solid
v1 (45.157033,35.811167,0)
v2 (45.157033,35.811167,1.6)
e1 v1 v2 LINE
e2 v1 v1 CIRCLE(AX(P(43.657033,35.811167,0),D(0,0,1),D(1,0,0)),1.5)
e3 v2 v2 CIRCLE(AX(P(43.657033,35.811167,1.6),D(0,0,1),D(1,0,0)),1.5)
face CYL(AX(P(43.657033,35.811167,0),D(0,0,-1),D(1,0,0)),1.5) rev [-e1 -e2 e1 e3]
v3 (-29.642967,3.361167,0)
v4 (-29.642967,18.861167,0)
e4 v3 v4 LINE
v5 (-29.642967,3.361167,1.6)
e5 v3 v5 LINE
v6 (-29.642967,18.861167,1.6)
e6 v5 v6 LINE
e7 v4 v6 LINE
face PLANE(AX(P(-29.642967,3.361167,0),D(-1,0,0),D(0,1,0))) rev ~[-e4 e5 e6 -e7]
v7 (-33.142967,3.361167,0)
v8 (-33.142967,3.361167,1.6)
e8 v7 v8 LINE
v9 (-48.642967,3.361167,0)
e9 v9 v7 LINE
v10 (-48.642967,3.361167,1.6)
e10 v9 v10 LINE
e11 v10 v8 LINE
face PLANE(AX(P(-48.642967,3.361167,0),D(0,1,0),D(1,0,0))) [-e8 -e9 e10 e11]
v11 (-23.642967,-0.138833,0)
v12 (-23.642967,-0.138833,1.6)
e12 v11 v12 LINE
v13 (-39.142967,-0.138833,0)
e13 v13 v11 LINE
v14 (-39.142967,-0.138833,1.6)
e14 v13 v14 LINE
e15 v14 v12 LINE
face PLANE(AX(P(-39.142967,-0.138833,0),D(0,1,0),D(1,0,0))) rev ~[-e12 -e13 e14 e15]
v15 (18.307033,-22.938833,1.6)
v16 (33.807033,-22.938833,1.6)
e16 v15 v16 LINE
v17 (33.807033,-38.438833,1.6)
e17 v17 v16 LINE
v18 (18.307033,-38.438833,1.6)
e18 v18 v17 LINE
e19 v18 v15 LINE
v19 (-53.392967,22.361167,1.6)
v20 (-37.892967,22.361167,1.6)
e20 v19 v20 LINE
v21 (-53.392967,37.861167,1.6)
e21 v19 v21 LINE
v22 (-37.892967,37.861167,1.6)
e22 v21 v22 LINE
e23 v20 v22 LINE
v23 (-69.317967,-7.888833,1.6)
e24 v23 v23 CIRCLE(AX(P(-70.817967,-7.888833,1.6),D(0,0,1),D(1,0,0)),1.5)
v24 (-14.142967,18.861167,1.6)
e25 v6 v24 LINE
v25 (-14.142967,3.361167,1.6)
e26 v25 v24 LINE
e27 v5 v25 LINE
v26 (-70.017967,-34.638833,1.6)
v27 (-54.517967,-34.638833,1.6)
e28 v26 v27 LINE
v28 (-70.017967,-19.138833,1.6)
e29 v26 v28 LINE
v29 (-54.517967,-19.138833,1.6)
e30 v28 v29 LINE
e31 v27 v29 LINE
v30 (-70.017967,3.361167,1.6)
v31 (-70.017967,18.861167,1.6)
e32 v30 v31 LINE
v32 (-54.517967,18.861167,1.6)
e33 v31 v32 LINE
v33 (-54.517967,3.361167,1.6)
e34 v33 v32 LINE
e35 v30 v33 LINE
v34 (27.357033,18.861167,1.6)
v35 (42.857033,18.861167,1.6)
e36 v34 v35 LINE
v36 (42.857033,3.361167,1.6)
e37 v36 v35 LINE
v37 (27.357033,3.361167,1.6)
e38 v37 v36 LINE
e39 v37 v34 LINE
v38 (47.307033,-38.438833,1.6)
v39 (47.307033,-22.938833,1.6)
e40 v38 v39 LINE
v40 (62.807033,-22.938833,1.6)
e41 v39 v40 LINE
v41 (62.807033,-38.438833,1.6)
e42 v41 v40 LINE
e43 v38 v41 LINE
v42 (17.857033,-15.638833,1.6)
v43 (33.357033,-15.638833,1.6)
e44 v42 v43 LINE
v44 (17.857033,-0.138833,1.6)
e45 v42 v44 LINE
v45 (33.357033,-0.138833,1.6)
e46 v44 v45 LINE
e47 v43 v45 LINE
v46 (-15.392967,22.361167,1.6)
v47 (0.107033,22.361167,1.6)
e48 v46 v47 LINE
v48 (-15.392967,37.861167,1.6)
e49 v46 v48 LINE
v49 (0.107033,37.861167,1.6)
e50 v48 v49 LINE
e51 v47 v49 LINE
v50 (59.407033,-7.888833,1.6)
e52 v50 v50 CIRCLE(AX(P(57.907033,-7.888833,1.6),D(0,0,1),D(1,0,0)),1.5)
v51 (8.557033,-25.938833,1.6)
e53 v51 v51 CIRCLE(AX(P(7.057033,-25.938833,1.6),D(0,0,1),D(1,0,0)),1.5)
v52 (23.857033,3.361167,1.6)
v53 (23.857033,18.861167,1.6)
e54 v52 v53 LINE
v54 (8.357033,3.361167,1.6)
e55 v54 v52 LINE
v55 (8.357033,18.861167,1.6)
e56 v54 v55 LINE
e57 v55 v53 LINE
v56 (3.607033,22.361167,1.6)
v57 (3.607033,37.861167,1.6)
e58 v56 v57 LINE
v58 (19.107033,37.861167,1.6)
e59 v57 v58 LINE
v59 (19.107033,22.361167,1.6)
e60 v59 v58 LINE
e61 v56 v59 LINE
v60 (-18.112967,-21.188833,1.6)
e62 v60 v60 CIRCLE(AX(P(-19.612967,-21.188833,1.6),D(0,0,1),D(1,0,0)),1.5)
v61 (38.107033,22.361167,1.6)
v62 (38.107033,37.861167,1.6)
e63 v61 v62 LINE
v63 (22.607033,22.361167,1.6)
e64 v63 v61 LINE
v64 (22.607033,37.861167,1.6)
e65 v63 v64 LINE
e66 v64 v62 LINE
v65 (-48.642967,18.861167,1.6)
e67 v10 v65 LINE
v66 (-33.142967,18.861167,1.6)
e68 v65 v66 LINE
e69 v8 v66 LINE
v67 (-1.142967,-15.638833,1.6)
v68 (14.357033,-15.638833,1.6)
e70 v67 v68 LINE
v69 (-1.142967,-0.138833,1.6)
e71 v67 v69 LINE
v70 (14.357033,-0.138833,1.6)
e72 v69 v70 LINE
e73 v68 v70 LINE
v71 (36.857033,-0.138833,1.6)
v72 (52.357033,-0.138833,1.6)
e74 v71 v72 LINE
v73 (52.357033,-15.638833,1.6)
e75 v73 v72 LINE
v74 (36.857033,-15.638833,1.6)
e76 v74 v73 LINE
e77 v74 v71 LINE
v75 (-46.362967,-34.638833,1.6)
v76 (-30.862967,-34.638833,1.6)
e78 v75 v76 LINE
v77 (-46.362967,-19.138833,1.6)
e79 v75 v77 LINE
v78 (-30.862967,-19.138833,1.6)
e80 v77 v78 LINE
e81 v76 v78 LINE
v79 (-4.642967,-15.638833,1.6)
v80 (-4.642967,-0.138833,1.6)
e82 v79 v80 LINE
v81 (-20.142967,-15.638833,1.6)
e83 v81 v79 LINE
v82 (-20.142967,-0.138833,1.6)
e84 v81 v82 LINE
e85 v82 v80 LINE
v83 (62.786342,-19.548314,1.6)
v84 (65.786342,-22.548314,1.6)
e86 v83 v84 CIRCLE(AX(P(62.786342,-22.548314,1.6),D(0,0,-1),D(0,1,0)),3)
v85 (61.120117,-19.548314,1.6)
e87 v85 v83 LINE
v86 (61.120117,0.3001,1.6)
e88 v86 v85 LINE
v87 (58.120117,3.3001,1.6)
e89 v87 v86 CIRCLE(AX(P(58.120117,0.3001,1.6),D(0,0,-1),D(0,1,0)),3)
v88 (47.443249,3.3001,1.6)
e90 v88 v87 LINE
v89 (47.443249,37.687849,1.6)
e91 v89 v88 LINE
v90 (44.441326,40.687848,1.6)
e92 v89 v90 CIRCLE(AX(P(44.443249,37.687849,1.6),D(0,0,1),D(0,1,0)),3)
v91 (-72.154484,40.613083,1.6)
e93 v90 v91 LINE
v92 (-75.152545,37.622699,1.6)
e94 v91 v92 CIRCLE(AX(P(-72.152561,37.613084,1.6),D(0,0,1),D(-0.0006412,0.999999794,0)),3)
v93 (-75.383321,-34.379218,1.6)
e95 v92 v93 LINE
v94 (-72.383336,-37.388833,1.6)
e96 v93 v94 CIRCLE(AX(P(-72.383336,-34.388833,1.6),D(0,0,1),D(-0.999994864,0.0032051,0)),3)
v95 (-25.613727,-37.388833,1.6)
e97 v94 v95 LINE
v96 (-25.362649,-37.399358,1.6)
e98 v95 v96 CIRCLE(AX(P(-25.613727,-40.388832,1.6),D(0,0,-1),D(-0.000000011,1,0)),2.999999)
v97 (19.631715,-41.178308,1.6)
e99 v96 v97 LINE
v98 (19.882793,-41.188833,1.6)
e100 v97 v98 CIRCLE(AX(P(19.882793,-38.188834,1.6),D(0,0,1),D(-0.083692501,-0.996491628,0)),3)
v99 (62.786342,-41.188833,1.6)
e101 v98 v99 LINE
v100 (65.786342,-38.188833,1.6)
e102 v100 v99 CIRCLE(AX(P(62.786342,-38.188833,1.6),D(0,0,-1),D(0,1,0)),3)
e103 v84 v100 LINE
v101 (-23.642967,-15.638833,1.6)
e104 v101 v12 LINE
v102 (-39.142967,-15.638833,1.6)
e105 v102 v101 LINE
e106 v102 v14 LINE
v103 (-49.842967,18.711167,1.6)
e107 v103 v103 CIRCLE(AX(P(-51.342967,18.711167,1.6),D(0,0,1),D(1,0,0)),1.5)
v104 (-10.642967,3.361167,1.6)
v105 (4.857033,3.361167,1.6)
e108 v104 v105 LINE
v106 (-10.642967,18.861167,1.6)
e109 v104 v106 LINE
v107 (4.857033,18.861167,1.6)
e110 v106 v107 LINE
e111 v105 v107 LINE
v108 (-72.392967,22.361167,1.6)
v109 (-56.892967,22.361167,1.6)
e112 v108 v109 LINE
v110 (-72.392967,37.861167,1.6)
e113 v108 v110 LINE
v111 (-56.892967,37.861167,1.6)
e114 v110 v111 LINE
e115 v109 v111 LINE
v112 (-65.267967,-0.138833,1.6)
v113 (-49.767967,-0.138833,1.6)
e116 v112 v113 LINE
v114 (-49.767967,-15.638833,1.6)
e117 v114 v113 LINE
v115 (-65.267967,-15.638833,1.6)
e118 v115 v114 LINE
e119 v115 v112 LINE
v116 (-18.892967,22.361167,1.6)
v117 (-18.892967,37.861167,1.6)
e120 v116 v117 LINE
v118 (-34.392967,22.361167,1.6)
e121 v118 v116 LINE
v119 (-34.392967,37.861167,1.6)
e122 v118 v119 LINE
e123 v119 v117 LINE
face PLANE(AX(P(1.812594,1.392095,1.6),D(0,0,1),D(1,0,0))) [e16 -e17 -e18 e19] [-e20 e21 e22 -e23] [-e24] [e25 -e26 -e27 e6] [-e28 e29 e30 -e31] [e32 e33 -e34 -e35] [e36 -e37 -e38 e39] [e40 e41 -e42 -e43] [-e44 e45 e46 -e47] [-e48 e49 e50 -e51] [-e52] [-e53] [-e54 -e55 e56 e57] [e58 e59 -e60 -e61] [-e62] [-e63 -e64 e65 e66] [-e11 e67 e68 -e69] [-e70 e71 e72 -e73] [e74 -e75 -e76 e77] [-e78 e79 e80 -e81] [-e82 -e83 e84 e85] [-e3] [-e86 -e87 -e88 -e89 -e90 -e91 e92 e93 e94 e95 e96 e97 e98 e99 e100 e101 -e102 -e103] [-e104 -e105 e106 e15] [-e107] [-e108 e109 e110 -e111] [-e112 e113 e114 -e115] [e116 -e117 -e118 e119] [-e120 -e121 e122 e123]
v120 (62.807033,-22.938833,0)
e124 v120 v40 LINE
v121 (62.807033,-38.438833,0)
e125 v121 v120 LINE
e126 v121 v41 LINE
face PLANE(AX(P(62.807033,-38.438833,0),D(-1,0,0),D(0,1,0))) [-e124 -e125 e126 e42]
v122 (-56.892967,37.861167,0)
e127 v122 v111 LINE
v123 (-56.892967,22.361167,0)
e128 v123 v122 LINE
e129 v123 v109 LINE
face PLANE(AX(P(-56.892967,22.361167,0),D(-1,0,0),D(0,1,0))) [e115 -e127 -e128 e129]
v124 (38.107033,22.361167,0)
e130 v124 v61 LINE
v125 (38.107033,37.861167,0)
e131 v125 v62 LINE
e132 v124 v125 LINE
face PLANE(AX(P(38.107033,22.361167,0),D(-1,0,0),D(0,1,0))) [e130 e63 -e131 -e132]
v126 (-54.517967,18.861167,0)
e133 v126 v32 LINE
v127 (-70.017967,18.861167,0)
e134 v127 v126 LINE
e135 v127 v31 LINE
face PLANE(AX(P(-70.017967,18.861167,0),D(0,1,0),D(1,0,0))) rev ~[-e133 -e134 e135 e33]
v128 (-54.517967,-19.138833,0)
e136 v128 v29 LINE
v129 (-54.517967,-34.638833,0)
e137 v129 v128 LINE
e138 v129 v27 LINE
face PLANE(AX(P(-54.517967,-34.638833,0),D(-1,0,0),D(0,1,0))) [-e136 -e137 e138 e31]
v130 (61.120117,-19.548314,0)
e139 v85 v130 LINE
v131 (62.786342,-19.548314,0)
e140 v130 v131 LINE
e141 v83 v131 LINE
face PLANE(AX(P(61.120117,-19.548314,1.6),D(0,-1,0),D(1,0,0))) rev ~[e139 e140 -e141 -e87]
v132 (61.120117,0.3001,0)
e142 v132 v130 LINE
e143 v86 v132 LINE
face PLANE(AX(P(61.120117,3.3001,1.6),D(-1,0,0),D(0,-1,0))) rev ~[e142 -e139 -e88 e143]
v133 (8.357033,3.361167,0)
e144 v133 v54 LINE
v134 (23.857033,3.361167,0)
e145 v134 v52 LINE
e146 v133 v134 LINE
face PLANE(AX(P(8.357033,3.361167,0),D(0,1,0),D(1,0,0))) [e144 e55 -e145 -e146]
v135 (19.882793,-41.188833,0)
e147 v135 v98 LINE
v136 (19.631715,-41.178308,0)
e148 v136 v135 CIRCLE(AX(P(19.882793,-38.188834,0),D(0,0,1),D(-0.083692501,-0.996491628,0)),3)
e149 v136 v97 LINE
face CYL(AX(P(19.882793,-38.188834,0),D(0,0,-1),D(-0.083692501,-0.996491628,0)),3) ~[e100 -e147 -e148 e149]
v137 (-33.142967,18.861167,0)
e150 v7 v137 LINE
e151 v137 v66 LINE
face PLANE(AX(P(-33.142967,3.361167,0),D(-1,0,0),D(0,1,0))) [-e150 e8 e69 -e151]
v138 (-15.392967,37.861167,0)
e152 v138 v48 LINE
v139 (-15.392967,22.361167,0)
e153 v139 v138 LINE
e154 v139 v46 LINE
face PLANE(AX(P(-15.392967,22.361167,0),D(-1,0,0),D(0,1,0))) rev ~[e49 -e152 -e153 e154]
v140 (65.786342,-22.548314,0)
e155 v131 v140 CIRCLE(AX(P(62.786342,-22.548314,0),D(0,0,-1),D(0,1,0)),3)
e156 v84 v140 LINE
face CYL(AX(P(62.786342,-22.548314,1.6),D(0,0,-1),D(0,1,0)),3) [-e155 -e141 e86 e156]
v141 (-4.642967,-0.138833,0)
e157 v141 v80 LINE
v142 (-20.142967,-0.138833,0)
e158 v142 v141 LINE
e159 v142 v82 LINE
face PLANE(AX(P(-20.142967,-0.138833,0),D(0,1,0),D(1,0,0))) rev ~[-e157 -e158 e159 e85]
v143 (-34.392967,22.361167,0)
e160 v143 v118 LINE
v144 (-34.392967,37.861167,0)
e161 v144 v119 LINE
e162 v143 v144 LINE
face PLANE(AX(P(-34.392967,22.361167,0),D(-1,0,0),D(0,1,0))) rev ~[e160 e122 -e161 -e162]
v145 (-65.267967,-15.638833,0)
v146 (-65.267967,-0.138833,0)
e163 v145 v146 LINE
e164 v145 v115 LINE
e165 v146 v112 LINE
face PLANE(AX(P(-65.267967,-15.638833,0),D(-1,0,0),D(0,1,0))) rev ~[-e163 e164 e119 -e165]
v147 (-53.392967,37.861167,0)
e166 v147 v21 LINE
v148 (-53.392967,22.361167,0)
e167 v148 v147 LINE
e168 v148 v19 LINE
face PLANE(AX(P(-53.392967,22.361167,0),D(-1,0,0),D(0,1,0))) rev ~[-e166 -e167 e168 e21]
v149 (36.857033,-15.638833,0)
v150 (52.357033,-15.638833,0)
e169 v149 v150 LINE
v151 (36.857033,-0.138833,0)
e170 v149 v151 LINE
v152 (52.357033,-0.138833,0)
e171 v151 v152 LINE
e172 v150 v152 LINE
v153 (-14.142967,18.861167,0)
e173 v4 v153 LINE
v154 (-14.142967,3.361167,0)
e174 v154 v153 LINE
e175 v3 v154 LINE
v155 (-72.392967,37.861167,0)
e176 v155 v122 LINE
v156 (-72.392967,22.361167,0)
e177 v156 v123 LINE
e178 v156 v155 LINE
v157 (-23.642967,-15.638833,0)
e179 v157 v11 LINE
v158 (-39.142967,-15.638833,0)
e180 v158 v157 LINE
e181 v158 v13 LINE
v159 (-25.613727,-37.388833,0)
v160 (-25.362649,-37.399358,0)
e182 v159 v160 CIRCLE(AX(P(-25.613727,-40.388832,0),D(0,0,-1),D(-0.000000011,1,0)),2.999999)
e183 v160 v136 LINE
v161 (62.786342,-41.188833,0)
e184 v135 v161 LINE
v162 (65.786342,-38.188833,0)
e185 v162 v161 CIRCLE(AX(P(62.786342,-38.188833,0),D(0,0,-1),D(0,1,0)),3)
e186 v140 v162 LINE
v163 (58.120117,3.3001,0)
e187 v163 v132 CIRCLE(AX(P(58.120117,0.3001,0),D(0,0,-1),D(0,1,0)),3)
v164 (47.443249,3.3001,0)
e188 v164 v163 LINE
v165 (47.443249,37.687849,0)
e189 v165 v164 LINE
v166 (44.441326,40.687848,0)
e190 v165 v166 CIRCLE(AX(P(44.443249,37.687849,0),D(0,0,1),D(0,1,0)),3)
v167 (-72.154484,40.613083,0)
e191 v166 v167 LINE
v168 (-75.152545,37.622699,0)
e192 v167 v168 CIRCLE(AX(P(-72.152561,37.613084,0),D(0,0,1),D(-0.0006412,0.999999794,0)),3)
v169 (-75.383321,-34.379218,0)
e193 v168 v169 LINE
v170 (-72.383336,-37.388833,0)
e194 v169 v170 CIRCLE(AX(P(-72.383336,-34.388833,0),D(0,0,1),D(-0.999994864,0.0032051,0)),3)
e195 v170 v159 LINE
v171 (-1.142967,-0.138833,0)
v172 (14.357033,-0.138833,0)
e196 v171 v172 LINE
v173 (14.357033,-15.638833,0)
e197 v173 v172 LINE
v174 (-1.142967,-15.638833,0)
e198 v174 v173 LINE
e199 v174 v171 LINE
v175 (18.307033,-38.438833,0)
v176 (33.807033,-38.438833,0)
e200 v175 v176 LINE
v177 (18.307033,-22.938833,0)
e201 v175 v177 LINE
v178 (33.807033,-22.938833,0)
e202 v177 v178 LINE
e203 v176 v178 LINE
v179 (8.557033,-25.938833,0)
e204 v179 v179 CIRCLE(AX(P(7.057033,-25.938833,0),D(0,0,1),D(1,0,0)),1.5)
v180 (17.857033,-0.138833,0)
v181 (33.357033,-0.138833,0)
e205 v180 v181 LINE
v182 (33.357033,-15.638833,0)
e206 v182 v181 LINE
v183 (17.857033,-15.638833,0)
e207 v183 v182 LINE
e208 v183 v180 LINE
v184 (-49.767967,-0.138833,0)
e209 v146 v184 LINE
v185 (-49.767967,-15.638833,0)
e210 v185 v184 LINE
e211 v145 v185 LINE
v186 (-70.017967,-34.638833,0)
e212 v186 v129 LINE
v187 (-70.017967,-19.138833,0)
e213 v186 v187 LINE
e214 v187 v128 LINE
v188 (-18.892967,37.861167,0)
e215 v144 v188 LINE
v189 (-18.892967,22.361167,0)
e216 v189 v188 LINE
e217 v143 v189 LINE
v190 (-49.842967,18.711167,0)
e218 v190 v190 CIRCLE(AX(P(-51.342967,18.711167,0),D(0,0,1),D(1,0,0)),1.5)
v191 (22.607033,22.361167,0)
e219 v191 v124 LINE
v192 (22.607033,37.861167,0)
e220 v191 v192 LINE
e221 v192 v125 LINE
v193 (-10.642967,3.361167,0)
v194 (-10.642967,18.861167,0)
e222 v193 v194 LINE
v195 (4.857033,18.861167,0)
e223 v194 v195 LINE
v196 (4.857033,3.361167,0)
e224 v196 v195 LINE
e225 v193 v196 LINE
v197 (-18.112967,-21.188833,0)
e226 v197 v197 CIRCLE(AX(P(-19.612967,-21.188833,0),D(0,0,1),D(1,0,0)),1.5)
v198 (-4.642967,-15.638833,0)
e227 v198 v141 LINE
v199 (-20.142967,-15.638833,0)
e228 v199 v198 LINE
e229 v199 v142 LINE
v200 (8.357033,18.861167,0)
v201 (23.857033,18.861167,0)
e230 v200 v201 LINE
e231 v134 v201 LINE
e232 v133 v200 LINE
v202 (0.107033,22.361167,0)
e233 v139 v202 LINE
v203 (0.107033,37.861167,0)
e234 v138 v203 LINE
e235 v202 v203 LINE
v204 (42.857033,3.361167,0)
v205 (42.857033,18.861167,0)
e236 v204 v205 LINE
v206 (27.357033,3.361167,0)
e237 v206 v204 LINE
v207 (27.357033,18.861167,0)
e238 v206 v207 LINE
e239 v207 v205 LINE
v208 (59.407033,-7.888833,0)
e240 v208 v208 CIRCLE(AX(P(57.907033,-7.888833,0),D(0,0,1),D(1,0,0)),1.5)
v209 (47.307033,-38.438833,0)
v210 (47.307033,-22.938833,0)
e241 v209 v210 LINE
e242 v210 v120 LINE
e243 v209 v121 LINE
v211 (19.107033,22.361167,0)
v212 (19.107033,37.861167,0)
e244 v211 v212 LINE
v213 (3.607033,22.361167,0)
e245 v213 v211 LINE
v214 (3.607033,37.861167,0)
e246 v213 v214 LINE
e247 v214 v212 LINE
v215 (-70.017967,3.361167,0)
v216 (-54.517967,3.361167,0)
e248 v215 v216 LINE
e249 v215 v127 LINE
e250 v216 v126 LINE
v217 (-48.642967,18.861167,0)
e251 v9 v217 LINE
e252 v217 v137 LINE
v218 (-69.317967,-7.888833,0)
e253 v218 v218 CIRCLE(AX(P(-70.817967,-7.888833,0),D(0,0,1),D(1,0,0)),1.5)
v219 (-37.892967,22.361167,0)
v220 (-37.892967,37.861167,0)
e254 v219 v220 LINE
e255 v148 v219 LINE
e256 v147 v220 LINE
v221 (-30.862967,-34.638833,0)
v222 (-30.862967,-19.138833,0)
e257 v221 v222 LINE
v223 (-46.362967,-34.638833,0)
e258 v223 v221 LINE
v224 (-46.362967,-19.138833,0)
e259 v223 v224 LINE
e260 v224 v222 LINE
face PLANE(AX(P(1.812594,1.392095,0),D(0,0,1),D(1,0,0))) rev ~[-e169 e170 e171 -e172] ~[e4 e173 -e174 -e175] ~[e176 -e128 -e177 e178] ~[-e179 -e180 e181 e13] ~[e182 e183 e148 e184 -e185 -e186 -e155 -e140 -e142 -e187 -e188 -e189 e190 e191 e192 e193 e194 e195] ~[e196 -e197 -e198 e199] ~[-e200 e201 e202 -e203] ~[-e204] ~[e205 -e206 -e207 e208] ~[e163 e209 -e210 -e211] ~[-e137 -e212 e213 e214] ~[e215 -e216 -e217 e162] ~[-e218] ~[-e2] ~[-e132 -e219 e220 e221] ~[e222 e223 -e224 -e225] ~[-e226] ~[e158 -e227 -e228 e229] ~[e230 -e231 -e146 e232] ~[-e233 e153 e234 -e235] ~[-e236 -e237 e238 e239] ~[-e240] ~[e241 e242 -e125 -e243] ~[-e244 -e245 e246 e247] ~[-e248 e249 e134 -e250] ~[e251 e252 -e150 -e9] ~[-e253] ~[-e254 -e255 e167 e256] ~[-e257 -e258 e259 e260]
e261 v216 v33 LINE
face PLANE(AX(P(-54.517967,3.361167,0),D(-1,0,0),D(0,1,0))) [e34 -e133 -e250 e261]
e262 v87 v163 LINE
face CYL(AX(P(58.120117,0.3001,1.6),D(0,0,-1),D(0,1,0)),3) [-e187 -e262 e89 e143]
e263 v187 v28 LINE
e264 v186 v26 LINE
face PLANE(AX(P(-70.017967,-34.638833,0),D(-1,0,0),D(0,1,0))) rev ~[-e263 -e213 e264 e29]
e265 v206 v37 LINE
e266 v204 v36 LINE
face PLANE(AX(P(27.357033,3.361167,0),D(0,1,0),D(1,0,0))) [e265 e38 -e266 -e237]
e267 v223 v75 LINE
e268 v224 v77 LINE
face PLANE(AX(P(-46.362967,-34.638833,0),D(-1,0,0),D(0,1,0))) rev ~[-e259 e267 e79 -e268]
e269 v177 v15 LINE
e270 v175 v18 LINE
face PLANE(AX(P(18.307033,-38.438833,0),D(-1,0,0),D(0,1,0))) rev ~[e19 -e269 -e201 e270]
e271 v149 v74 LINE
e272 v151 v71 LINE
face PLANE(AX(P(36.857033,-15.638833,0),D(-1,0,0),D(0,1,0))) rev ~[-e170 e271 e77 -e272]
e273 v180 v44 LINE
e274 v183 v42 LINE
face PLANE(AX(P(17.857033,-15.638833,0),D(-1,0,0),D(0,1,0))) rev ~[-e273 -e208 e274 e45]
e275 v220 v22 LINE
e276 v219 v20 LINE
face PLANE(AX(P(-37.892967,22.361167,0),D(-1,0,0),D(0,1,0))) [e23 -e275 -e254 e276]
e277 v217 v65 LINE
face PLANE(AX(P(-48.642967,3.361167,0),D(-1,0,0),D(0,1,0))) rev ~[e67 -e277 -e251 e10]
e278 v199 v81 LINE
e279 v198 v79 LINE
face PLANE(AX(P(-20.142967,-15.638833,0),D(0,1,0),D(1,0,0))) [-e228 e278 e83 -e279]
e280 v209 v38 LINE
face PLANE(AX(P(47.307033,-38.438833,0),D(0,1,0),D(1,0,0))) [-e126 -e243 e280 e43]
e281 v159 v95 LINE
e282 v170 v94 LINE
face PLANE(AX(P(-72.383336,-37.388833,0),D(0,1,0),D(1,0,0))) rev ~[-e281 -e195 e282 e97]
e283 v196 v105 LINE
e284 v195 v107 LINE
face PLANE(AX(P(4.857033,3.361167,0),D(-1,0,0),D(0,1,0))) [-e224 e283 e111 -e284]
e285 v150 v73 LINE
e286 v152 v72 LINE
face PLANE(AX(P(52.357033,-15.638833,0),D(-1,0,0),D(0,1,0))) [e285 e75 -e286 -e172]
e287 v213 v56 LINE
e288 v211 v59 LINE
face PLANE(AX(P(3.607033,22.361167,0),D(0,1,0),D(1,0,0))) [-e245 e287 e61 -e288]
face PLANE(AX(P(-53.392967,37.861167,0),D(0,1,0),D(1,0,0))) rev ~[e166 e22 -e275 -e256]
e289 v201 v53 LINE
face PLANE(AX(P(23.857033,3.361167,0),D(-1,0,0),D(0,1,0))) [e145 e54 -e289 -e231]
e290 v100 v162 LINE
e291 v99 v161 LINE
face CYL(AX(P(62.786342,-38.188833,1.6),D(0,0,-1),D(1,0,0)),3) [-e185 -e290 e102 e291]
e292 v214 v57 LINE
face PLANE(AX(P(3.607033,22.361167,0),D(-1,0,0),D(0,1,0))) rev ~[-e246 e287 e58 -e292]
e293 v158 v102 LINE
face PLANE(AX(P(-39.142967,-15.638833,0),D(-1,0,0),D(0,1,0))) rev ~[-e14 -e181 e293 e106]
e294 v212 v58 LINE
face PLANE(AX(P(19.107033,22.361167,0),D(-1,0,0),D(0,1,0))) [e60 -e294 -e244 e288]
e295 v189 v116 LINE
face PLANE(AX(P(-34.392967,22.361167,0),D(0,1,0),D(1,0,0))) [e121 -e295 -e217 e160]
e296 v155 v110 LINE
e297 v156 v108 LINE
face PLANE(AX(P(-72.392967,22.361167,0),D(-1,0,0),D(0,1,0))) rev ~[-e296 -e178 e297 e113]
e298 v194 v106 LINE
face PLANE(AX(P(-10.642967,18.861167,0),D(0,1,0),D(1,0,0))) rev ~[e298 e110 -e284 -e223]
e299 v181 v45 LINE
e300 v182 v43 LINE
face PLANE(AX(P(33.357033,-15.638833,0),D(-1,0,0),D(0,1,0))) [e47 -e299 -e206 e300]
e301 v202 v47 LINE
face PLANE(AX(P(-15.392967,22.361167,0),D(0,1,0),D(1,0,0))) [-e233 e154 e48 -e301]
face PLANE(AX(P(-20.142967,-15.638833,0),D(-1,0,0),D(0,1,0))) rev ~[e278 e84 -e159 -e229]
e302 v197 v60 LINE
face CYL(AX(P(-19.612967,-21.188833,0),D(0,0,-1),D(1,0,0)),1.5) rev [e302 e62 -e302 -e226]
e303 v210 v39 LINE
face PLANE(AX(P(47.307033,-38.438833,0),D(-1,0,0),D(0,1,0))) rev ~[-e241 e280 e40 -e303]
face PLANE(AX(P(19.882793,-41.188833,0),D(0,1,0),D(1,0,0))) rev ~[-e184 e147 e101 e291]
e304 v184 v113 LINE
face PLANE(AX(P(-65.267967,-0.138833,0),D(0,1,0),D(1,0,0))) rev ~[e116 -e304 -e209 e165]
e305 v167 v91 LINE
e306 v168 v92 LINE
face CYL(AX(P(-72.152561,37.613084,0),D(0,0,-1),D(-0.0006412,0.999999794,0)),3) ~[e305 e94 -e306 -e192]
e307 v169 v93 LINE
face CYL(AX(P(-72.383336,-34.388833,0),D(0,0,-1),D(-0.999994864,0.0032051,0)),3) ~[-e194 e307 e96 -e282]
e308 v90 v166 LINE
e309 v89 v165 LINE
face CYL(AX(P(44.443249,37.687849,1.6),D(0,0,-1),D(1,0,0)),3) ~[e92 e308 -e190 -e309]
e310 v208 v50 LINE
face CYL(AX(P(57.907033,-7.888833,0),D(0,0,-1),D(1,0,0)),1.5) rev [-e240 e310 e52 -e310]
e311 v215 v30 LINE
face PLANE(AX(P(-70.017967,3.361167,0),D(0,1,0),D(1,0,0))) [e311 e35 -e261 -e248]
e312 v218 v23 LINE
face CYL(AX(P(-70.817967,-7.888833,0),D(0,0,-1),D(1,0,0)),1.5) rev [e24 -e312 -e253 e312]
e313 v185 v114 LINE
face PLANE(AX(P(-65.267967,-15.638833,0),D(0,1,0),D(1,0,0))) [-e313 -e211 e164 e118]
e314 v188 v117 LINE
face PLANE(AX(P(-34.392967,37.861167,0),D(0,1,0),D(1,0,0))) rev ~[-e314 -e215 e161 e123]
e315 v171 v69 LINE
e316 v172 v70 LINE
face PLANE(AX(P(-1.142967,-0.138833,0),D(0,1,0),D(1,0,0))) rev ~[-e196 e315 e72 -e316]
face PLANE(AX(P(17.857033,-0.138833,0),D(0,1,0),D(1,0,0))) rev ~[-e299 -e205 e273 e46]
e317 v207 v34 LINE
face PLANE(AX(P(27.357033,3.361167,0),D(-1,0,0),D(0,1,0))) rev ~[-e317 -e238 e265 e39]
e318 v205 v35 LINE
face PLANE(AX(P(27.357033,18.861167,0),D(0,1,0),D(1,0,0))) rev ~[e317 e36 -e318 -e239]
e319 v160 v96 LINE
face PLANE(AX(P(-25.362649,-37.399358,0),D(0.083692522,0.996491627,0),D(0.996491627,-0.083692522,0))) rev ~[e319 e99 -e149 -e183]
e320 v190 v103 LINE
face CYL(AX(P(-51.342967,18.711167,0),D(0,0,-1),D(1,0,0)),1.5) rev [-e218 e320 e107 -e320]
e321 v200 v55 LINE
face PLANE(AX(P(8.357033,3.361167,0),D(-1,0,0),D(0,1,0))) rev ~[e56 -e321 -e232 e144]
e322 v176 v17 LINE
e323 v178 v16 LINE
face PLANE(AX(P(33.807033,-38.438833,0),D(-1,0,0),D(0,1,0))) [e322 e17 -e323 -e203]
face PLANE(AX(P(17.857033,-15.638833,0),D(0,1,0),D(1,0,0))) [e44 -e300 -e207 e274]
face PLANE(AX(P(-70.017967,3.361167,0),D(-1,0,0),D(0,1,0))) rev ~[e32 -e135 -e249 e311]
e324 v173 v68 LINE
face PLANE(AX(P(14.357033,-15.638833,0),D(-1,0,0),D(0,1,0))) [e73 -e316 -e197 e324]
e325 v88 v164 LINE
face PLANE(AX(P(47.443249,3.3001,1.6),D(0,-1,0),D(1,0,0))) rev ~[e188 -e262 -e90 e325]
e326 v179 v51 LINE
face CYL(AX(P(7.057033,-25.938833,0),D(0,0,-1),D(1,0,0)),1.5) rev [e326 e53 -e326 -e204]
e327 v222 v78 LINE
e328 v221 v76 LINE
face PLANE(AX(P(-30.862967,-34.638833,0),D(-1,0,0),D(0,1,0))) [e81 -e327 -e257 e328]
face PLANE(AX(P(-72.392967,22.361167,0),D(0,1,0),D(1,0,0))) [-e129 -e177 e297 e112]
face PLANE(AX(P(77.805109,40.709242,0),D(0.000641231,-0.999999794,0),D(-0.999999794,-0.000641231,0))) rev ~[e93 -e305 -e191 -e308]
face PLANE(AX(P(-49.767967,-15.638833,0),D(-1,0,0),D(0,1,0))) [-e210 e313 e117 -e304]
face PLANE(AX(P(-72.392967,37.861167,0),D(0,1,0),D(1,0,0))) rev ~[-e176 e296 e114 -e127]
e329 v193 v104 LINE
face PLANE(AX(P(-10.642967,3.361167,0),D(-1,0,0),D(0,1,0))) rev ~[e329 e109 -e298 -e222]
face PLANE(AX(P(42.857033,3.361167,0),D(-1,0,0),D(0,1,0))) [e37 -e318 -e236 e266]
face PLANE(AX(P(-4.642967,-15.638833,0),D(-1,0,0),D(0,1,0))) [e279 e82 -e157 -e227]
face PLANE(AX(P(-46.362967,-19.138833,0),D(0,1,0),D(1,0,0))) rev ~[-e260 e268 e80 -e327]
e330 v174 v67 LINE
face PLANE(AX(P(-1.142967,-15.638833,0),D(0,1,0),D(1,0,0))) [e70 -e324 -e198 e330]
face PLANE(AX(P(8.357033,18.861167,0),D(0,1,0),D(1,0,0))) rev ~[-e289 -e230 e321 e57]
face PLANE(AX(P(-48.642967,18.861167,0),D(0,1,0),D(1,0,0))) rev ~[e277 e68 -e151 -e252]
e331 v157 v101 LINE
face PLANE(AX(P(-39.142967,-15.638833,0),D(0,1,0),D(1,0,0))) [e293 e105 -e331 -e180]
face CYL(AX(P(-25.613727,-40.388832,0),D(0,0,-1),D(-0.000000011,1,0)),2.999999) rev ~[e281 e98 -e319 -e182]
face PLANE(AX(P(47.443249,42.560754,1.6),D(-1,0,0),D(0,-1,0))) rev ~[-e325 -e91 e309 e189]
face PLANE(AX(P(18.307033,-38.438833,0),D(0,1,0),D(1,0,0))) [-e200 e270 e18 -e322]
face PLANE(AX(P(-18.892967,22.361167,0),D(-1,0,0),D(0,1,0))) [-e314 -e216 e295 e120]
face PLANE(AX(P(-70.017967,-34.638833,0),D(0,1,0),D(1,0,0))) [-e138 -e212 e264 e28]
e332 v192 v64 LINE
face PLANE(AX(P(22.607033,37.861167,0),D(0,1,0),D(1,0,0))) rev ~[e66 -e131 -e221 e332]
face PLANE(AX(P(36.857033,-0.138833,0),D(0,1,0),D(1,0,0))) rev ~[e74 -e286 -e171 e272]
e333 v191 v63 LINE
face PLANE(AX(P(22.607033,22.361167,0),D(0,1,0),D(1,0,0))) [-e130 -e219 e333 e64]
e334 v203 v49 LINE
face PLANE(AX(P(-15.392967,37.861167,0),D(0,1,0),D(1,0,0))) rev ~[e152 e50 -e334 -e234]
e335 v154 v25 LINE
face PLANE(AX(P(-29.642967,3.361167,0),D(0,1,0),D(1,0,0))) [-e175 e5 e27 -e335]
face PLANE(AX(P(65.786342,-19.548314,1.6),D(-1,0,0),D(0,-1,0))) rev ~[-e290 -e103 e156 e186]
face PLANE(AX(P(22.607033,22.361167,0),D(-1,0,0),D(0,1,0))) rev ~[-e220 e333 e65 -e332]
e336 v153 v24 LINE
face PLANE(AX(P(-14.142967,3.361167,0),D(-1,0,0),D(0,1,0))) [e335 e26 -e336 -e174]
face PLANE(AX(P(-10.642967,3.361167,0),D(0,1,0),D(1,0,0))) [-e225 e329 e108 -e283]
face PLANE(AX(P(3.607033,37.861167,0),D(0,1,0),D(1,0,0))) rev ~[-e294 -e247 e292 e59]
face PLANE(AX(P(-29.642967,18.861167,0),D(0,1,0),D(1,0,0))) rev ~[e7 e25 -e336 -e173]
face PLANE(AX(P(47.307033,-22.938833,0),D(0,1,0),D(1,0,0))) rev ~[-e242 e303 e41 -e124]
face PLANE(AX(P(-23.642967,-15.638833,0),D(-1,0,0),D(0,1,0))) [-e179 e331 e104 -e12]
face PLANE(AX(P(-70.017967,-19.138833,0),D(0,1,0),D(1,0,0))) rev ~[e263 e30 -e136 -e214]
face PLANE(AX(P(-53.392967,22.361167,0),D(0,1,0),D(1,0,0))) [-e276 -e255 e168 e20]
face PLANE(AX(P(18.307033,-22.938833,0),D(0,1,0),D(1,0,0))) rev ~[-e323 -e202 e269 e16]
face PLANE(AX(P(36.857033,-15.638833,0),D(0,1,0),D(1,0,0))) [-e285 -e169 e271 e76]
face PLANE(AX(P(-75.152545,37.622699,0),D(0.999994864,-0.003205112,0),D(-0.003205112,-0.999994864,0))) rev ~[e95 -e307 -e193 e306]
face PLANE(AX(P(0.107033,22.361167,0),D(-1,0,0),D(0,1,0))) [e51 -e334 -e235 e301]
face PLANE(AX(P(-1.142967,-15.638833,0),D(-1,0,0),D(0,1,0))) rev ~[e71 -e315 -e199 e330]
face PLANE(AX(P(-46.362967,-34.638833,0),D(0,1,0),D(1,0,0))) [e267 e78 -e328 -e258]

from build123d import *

# Parameters (mm, degrees)
SKETCH1_R           = 1.5
SKETCH1_W           = 15.5
SKETCH1_H           = 15.5
BOSS_EXTRUDE1_DEPTH = 1.6
CUT_EXTRUDE2_DEPTH  = 91.713045172
FILLET2_R           = 3
FILLET3_R           = 3


with BuildPart() as part:
    # Sketch1 → Boss-Extrude1 (new body)
    with BuildSketch(Plane.XY):
        with BuildLine():
            Line((80.807032999, -9.202000204), (80.807032999, 37.709242496))
            ThreePointArc((80.807032999, 37.709242496), (79.927673142, 39.831242844), (77.805109389, 40.709241907))
            Line((77.805109389, 40.709241907), (-72.154484411, 40.613083107))
            ThreePointArc((-72.154484411, 40.613083107), (-74.271159988, 39.737121752), (-75.152545414, 37.622699011))
            Line((-75.152545414, 37.622699011), (-75.383320814, -34.379217889))
            ThreePointArc((-75.383320814, -34.379217889), (-74.508053368, -36.506751286), (-72.383336219, -37.388833194))
            Line((-72.383336219, -37.388833194), (-25.613726719, -37.388833194))
            ThreePointArc((-25.613726719, -37.388833194), (-25.488077715, -37.391465627), (-25.362649219, -37.399358309))
            Line((-25.362649219, -37.399358309), (19.631715181, -41.178308109))
            ThreePointArc((19.631715181, -41.178308109), (19.757143676, -41.18620079), (19.88279268, -41.188833223))
            Line((19.88279268, -41.188833223), (68.14475528, -41.188833223))
            ThreePointArc((68.14475528, -41.188833223), (69.898886106, -40.622559803), (70.990805162, -39.137516598))
            Line((70.990805162, -39.137516598), (80.653082862, -10.150683598))
            ThreePointArc((80.653082862, -10.150683598), (80.768295364, -9.682546983), (80.807032999, -9.202000204))
        make_face()
        with Locations((-19.612967014, -21.188833189)):
            Circle(SKETCH1_R, mode=Mode.SUBTRACT)
        with Locations((7.057032986, -25.938833189)):
            Circle(SKETCH1_R, mode=Mode.SUBTRACT)
        with Locations((43.657032986, 35.811166811)):
            Circle(SKETCH1_R, mode=Mode.SUBTRACT)
        with Locations((-70.817967014, -7.888833189)):
            Circle(SKETCH1_R, mode=Mode.SUBTRACT)
        with Locations((57.907032986, -7.888833189)):
            Circle(SKETCH1_R, mode=Mode.SUBTRACT)
        with Locations((-51.342967014, 18.711166811)):
            Circle(SKETCH1_R, mode=Mode.SUBTRACT)
        with Locations((-64.642967014, 30.111166811)):
            Rectangle(SKETCH1_W, SKETCH1_H, mode=Mode.SUBTRACT)
        with Locations((-45.642967014, 30.111166811)):
            Rectangle(SKETCH1_W, SKETCH1_H, mode=Mode.SUBTRACT)
        with Locations((-26.642967014, 30.111166811)):
            Rectangle(SKETCH1_W, SKETCH1_H, mode=Mode.SUBTRACT)
        with Locations((-7.642967014, 30.111166811)):
            Rectangle(SKETCH1_W, SKETCH1_H, mode=Mode.SUBTRACT)
        with Locations((11.357032986, 30.111166811)):
            Rectangle(SKETCH1_W, SKETCH1_H, mode=Mode.SUBTRACT)
        with Locations((30.357032986, 30.111166811)):
            Rectangle(SKETCH1_W, SKETCH1_H, mode=Mode.SUBTRACT)
        with Locations((-62.267967014, 11.111166811)):
            Rectangle(SKETCH1_W, SKETCH1_H, mode=Mode.SUBTRACT)
        with Locations((-40.892967014, 11.111166811)):
            Rectangle(SKETCH1_W, SKETCH1_H, mode=Mode.SUBTRACT)
        with Locations((-21.892967014, 11.111166811)):
            Rectangle(SKETCH1_W, SKETCH1_H, mode=Mode.SUBTRACT)
        with Locations((-2.892967014, 11.111166811)):
            Rectangle(SKETCH1_W, SKETCH1_H, mode=Mode.SUBTRACT)
        with Locations((16.107032986, 11.111166811)):
            Rectangle(SKETCH1_W, SKETCH1_H, mode=Mode.SUBTRACT)
        with Locations((35.107032986, 11.111166811)):
            Rectangle(SKETCH1_W, SKETCH1_H, mode=Mode.SUBTRACT)
        with Locations((-57.517967014, -7.888833189)):
            Rectangle(SKETCH1_W, SKETCH1_H, mode=Mode.SUBTRACT)
        with Locations((-31.392967014, -7.888833189)):
            Rectangle(SKETCH1_W, SKETCH1_H, mode=Mode.SUBTRACT)
        with Locations((-12.392967014, -7.888833189)):
            Rectangle(SKETCH1_W, SKETCH1_H, mode=Mode.SUBTRACT)
        with Locations((6.607032986, -7.888833189)):
            Rectangle(SKETCH1_W, SKETCH1_H, mode=Mode.SUBTRACT)
        with Locations((25.607032986, -7.888833189)):
            Rectangle(SKETCH1_W, SKETCH1_H, mode=Mode.SUBTRACT)
        with Locations((44.607032986, -7.888833189)):
            Rectangle(SKETCH1_W, SKETCH1_H, mode=Mode.SUBTRACT)
        with Locations((-62.267967014, -26.888833189)):
            Rectangle(SKETCH1_W, SKETCH1_H, mode=Mode.SUBTRACT)
        with Locations((-38.612967014, -26.888833189)):
            Rectangle(SKETCH1_W, SKETCH1_H, mode=Mode.SUBTRACT)
        with Locations((26.057032986, -30.688833189)):
            Rectangle(SKETCH1_W, SKETCH1_H, mode=Mode.SUBTRACT)
        with Locations((55.057032986, -30.688833189)):
            Rectangle(SKETCH1_W, SKETCH1_H, mode=Mode.SUBTRACT)
    extrude(amount=BOSS_EXTRUDE1_DEPTH)

    # Sketch3 → Cut-Extrude2 (cut, through all)
    with BuildSketch(Plane.XY.offset(1.6)):
        Polygon((47.443249451, 42.560753869), (47.443249451, 3.300099698), (61.120116682, 3.300099698), (61.120116682, -19.548313794), (65.786341973, -19.548313794), (65.786341973, -41.188833223), (73.358886795, -43.51481274), (105.294000543, 60.45432308), align=None)
    extrude(amount=-CUT_EXTRUDE2_DEPTH, mode=Mode.SUBTRACT)

    # Fillet2
    fillet2_edges = [part.edges().sort_by_distance(p)[0] for p in [
        (47.443249451, 40.689772929, 0.8),
        (65.786341973, -19.548313794, 0.8),
        (61.120116682, 3.300099698, 0.8),
    ]]
    fillet(fillet2_edges, radius=FILLET2_R)

    # Fillet3
    fillet3_edges = [part.edges().sort_by_distance(p)[0] for p in [
        (65.786341973, -41.188833223, 0.8),
    ]]
    fillet(fillet3_edges, radius=FILLET3_R)


solid = part.part
